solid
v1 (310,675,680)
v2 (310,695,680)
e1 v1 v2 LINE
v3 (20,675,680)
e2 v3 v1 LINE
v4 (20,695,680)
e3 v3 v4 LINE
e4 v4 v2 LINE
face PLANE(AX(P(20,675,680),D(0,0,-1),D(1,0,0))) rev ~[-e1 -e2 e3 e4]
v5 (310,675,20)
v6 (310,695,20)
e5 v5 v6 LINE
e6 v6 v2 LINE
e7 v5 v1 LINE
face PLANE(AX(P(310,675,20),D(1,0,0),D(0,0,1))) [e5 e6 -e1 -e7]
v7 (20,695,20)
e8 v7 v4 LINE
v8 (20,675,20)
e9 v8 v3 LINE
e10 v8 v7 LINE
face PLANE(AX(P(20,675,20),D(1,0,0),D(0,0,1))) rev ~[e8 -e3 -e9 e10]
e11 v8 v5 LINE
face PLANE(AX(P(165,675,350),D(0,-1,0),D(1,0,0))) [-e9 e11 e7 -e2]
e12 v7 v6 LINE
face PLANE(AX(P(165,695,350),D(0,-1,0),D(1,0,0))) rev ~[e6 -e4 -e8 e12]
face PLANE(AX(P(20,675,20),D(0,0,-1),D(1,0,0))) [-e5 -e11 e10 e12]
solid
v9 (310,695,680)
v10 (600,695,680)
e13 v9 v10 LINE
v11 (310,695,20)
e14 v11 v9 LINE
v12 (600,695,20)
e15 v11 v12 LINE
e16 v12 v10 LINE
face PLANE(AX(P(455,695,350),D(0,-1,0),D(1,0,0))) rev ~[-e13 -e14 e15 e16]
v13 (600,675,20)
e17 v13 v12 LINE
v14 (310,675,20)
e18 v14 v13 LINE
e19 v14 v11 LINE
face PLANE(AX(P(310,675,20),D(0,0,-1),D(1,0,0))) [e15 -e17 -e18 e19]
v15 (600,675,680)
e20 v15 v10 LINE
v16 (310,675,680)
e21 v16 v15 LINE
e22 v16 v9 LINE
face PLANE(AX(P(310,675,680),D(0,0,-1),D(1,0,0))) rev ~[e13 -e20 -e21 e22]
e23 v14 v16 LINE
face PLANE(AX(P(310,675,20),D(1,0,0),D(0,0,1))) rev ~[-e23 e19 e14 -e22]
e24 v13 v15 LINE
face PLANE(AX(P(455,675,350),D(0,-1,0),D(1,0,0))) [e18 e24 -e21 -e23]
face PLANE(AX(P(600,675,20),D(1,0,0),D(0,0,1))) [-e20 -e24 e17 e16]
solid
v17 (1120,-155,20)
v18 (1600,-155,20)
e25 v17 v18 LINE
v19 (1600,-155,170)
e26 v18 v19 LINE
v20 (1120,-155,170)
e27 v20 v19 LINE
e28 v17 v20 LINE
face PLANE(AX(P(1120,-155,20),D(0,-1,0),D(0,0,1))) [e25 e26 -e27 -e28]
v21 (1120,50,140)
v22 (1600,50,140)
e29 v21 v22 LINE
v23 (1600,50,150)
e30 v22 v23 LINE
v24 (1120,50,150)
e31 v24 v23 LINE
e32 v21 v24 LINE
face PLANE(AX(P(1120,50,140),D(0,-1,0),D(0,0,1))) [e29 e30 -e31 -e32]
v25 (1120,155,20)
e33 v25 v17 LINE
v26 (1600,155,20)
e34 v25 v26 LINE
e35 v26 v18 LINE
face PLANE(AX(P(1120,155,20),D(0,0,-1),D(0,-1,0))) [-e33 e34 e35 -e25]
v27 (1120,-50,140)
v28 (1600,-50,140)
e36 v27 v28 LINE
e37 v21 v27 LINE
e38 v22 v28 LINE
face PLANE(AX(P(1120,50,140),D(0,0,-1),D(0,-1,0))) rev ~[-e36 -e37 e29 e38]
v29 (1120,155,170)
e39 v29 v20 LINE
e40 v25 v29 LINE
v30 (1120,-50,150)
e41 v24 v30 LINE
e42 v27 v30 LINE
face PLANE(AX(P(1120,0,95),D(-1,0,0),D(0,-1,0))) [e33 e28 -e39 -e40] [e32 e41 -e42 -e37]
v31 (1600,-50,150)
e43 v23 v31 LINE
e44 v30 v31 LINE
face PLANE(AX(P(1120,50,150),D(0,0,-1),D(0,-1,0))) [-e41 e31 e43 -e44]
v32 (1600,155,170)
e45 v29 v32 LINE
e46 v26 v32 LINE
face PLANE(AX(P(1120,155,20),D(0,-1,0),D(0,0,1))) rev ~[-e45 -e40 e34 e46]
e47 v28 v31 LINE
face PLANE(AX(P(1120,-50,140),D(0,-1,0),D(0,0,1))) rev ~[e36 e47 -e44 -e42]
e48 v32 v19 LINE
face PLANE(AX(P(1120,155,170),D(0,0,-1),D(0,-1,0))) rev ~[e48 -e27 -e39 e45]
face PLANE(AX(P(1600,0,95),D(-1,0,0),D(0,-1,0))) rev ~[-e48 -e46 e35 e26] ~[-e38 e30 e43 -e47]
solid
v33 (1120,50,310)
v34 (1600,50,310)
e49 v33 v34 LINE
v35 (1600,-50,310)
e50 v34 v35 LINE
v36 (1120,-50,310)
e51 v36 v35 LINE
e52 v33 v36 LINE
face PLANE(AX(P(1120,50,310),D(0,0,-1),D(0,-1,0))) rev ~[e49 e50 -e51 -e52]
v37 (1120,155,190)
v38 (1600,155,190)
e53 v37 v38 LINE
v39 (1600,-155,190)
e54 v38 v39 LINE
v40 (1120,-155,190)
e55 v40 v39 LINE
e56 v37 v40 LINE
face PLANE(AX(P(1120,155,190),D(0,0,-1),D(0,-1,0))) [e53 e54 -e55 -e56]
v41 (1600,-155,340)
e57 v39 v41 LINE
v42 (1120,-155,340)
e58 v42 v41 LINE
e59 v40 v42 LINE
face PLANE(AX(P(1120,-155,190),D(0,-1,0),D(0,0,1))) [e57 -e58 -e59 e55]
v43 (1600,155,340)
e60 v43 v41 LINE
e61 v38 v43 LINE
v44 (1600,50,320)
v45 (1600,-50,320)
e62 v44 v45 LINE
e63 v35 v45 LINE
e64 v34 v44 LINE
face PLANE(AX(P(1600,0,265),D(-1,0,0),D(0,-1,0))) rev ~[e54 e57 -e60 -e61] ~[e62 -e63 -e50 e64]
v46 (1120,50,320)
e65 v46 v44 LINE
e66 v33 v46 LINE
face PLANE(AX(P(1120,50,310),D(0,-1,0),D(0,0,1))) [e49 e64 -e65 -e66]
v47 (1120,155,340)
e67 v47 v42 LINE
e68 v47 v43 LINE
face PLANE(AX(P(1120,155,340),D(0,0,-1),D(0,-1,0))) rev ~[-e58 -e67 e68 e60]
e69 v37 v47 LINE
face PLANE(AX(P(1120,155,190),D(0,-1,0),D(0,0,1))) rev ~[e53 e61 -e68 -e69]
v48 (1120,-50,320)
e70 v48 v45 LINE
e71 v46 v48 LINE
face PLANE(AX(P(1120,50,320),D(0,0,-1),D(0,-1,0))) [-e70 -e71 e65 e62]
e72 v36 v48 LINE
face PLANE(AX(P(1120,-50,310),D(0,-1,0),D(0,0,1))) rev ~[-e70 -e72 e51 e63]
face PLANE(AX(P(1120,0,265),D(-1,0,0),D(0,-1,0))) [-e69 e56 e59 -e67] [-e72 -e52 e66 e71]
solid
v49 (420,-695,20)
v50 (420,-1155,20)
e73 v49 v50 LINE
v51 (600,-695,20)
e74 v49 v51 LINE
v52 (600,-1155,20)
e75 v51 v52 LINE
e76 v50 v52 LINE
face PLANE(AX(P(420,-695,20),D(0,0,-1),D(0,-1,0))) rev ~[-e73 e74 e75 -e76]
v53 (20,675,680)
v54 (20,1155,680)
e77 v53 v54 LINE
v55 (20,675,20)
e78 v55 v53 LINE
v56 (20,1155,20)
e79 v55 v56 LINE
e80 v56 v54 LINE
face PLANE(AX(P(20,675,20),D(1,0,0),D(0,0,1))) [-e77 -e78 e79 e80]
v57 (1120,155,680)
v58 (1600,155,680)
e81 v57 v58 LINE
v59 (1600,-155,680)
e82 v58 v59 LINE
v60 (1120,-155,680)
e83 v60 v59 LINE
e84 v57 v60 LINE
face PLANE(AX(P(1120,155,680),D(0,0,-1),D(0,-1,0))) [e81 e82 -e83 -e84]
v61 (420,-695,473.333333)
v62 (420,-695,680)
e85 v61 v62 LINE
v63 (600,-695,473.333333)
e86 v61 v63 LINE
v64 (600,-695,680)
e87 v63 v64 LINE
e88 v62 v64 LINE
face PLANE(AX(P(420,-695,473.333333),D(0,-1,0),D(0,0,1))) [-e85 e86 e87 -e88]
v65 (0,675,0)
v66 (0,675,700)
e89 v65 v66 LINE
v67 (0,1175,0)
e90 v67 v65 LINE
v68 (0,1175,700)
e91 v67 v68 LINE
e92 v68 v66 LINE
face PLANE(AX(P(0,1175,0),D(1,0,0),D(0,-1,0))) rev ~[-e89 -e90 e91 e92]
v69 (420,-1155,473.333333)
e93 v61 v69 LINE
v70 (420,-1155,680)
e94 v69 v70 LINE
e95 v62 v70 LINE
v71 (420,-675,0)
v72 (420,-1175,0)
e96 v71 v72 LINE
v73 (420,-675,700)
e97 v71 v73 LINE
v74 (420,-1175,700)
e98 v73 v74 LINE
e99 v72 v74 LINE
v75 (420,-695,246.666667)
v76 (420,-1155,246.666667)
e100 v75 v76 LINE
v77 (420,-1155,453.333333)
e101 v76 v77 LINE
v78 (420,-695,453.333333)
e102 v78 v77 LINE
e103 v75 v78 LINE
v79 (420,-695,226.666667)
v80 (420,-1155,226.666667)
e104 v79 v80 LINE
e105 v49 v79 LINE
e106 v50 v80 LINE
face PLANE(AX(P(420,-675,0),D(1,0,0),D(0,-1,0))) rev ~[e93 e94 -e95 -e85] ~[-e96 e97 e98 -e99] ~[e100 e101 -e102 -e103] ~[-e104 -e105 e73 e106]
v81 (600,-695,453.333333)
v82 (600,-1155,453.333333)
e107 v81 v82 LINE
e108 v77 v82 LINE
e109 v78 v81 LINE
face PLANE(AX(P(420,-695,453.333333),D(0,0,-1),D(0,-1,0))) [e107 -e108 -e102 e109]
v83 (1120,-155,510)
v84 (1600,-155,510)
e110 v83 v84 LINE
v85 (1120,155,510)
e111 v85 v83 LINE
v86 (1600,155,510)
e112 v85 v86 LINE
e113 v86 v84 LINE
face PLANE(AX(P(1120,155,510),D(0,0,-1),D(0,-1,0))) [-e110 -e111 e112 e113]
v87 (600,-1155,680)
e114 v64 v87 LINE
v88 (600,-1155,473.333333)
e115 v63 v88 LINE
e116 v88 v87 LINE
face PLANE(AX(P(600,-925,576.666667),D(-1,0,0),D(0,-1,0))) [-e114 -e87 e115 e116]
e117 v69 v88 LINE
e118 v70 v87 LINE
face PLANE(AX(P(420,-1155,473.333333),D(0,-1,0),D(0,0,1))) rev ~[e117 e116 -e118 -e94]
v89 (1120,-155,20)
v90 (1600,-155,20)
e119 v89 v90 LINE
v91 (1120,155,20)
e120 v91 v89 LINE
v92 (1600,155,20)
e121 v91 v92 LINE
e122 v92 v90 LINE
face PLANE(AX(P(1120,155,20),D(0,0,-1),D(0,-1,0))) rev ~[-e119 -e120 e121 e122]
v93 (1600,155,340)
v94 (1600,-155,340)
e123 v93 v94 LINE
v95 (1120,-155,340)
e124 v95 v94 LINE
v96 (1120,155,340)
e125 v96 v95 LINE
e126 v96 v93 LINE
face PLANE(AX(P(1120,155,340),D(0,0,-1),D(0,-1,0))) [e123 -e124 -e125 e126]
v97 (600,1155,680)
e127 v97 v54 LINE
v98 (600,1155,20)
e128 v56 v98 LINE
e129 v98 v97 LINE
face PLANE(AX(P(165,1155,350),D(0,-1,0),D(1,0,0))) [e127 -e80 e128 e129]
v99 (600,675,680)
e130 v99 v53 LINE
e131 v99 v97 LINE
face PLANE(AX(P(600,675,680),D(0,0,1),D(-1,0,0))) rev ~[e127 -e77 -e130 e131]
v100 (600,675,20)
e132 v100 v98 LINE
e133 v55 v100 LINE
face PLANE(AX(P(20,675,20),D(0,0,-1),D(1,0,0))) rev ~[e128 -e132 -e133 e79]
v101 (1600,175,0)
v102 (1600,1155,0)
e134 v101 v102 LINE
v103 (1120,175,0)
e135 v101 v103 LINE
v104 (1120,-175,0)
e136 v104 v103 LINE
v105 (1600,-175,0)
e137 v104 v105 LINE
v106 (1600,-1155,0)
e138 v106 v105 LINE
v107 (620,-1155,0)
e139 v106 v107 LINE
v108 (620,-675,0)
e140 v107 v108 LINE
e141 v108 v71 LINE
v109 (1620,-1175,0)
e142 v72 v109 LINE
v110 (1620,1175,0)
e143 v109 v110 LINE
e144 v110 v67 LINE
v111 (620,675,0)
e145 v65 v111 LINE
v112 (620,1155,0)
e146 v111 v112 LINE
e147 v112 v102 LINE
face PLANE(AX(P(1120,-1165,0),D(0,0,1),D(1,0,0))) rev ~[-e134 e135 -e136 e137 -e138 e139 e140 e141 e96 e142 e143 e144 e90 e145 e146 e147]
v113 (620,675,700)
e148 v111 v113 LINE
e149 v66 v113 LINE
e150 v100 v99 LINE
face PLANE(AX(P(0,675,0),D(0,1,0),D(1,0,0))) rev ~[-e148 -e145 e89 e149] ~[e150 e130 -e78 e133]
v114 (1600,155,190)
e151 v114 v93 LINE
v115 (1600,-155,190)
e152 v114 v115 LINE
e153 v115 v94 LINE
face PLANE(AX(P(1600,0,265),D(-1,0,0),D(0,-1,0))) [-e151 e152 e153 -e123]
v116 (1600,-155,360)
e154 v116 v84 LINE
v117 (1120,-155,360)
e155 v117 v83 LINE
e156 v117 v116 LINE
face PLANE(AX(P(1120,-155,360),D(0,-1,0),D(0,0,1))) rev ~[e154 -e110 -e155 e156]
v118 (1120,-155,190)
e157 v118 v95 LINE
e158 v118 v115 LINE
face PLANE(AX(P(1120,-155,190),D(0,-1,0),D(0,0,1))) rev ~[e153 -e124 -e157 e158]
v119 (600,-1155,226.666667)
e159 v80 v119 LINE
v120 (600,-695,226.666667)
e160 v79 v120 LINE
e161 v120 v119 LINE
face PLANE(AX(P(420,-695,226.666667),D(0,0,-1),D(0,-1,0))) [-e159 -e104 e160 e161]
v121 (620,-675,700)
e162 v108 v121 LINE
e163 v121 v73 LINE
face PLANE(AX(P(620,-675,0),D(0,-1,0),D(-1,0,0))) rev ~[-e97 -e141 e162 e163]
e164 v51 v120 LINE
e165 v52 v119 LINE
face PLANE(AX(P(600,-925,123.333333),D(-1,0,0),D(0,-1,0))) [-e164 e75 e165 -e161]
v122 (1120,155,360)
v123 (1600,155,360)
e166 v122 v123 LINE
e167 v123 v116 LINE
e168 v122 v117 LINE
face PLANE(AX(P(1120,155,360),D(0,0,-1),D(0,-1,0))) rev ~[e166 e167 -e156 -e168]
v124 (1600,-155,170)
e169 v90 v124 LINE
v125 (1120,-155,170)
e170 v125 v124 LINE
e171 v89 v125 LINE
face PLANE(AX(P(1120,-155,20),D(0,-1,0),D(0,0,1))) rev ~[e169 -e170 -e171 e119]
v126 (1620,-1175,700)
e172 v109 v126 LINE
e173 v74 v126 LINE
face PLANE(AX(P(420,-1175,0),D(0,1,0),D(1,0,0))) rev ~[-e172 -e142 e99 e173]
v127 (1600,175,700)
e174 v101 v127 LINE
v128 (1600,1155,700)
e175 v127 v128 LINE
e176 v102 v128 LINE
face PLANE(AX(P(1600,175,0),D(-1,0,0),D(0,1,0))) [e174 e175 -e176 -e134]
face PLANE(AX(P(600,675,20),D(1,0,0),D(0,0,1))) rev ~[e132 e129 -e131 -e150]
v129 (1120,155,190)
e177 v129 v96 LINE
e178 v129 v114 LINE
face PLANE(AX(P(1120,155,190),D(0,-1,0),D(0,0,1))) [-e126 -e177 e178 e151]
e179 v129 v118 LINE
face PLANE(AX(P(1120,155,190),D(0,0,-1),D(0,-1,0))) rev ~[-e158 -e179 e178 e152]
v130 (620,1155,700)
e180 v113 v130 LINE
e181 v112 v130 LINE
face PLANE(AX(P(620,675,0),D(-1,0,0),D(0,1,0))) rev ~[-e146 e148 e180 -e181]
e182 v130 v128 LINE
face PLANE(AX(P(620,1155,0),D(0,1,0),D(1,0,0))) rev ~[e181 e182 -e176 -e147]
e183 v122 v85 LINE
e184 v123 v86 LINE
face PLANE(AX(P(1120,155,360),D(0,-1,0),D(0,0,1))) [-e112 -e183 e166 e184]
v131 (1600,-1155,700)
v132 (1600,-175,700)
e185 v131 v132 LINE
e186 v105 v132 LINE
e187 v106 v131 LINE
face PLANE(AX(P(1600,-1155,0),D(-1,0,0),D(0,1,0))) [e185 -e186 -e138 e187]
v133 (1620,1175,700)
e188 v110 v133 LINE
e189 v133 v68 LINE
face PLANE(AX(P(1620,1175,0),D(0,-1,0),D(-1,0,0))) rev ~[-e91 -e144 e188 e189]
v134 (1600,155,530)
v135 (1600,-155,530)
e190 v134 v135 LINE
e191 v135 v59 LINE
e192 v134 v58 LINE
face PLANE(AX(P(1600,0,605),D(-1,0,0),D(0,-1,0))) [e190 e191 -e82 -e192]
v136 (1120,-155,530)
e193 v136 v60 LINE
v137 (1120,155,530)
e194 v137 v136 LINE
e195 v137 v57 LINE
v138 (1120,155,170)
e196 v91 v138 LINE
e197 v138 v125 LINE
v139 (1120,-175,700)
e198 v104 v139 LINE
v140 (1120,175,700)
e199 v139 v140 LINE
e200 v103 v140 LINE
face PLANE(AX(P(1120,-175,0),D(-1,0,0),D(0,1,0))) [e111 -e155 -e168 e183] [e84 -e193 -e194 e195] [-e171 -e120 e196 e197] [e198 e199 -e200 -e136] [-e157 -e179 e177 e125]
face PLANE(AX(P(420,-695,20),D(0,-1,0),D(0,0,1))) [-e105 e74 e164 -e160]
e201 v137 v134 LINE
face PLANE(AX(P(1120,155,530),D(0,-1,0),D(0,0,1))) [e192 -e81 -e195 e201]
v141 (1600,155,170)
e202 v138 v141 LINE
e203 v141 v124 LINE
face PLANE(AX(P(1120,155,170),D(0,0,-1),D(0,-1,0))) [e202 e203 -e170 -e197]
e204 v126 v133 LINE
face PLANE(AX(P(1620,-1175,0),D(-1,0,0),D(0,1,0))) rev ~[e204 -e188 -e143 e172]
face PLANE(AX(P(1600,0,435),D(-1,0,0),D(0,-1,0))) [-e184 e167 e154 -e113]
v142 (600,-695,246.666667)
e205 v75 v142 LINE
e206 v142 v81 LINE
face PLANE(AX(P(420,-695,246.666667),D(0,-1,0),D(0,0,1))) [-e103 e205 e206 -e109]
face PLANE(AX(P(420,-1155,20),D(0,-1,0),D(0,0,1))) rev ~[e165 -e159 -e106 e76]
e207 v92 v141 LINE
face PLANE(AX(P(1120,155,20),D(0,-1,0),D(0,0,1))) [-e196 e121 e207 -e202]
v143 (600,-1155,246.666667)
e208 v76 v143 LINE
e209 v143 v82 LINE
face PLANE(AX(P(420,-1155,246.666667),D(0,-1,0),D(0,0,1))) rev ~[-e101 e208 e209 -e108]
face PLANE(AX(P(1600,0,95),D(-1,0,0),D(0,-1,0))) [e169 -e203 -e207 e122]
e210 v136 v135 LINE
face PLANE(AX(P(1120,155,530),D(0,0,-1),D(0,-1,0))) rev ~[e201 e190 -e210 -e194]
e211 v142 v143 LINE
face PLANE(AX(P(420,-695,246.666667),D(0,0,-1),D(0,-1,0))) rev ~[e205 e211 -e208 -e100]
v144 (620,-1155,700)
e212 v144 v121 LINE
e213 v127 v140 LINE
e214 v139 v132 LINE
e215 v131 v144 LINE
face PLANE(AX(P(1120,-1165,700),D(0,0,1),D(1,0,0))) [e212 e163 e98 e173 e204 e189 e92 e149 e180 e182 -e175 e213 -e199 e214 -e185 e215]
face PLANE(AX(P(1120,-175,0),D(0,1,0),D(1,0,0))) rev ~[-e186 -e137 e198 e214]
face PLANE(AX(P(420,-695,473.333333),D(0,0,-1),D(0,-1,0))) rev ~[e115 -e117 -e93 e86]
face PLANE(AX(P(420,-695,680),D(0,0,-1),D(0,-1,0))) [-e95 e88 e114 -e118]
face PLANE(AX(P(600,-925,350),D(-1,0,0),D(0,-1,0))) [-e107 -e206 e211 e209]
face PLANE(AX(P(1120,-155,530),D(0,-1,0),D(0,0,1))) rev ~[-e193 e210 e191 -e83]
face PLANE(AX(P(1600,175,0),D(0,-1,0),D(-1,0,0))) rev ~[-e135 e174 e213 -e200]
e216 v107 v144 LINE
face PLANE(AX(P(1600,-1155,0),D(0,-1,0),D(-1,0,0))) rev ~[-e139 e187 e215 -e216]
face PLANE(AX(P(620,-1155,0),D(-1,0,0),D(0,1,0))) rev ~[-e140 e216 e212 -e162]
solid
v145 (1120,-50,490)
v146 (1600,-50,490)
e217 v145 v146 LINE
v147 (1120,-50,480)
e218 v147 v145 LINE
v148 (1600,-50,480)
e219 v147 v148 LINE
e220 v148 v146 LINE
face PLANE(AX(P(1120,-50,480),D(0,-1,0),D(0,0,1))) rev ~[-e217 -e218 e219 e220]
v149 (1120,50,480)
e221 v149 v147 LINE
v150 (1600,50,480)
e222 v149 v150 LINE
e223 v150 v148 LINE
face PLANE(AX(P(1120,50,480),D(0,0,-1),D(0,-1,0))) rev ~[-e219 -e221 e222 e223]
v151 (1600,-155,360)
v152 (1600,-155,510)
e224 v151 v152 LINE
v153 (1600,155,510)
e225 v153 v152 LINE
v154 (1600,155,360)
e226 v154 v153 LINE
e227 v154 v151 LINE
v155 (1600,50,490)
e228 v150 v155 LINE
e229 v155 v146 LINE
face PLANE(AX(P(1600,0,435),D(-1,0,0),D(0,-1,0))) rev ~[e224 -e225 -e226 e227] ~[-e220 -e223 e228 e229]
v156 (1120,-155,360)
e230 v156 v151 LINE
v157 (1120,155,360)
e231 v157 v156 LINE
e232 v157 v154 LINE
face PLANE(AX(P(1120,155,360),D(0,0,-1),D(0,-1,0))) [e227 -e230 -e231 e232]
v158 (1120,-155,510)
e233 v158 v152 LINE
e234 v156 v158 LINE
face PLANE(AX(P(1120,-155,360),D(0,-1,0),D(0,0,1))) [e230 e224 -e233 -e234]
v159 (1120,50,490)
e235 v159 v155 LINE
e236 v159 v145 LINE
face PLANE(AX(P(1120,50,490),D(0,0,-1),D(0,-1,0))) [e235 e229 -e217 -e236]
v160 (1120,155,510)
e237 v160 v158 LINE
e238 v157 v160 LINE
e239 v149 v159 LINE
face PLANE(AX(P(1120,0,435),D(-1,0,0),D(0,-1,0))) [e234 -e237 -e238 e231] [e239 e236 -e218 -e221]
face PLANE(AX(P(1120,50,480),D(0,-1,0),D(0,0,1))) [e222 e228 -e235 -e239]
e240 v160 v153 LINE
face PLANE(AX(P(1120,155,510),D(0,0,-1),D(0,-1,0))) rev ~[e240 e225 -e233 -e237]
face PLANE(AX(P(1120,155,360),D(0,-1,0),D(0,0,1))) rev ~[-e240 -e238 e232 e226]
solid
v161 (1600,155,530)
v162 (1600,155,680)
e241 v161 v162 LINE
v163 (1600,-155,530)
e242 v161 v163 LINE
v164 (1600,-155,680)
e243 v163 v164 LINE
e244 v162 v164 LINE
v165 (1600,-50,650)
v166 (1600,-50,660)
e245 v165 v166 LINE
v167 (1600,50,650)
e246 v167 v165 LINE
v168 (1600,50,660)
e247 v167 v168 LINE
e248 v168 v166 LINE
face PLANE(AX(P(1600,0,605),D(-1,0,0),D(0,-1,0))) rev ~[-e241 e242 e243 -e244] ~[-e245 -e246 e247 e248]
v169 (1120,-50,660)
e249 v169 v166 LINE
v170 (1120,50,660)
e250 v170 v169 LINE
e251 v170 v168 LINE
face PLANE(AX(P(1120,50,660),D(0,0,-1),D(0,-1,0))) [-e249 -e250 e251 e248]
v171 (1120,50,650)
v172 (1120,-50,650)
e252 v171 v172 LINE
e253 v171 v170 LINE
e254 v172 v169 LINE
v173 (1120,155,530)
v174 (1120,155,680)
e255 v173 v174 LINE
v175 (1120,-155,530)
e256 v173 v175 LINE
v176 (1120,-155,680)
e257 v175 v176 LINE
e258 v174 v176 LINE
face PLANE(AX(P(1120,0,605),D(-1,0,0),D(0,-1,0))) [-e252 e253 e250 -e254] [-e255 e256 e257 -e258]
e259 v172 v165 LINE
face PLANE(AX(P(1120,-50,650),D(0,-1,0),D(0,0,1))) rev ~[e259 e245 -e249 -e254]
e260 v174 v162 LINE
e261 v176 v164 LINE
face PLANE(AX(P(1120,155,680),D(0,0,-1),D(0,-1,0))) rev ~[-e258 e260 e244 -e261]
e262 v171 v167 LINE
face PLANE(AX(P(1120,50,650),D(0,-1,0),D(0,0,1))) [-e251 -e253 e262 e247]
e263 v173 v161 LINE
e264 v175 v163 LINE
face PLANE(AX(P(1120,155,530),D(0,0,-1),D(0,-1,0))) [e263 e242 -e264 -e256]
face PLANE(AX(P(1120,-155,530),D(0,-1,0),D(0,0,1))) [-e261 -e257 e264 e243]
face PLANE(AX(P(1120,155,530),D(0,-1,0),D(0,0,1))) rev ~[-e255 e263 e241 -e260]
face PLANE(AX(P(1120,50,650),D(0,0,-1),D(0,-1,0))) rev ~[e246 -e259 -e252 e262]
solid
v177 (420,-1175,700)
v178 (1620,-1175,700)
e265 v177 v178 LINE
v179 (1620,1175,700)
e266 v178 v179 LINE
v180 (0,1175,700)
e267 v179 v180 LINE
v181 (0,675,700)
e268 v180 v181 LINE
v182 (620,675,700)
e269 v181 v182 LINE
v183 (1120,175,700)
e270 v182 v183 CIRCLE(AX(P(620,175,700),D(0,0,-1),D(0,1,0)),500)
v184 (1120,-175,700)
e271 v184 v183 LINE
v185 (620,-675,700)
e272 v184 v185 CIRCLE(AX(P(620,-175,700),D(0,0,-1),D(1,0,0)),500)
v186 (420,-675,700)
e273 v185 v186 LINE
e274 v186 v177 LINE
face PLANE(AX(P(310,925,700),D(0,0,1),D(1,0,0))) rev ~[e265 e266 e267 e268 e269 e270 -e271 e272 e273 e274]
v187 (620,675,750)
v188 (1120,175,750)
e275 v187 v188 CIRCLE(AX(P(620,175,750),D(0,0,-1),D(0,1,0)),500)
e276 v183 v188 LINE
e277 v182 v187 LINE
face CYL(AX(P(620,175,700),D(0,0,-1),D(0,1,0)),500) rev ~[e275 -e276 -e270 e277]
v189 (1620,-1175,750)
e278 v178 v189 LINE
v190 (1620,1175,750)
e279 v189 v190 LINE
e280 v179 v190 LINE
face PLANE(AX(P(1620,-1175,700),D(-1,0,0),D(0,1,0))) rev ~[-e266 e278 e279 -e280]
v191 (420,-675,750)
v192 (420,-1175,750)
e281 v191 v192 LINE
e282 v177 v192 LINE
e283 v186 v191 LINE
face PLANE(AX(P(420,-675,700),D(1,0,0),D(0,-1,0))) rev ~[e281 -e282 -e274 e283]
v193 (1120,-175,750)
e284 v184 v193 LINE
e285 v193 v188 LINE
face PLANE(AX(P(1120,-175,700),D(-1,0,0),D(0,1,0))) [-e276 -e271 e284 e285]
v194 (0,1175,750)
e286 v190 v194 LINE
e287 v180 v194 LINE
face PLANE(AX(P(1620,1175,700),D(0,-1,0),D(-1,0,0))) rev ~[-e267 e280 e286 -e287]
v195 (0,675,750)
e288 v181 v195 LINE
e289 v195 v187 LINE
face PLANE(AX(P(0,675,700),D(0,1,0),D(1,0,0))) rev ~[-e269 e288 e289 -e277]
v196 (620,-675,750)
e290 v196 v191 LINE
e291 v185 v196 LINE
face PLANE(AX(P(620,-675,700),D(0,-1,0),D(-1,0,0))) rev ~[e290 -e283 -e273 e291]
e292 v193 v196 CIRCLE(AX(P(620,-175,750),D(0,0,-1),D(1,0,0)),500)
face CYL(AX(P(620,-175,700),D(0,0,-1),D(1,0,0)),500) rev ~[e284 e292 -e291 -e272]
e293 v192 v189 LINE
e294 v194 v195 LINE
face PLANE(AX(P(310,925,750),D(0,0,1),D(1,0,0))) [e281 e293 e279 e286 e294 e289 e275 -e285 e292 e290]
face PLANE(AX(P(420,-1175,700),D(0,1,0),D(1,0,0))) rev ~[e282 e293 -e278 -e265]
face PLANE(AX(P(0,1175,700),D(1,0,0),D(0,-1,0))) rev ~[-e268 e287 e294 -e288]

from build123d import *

# Parameters (mm, degrees)
F0_W      = 20
F0_H      = 980
F0_W_2    = 480
F0_H_2    = 350
F1_DEPTH  = 700
F2_START  = 700
F2_DEPTH  = 50
F3_W      = 310
F3_H      = 150
F4_DEPTH  = 480
F5_W      = 290
F5_H      = 660
F6_DEPTH  = 480
F7_W      = 460
F7_H      = 206.6666666667
F8_DEPTH  = 180
F9_DEPTH  = 480
F10_DEPTH = 20
F11_DEPTH = 20
F12_W     = 100
F12_H     = 10
F13_DEPTH = 480


with BuildPart() as f1:
    # F0 (on Top) → F1 (new body)
    with BuildSketch(Plane.XY):
        Polygon((1620, -1175), (1620, -1155), (1600, -1155), (620, -1155), (620, -1175), align=None)
        with Locations((1610, -665)):
            Rectangle(F0_W, F0_H)
        with Locations((1360, 0)):
            Rectangle(F0_W_2, F0_H_2)
        with Locations((1610, 0)):
            Rectangle(F0_W, F0_H_2)
        with Locations((1610, 665)):
            Rectangle(F0_W, F0_H)
        Polygon((620, 1175), (0, 1175), (0, 675), (620, 675), (620, 1155), align=None)
        Polygon((1620, 1175), (620, 1175), (620, 1155), (1600, 1155), (1620, 1155), align=None)
        Polygon((620, -1155), (620, -675), (420, -675), (420, -1175), (620, -1175), align=None)
    extrude(amount=F1_DEPTH)

    # F3 (on face) → F4 (cut, through all)
    with BuildSketch(Plane(origin=(1120, 0, 0), x_dir=(0, -1, 0), z_dir=(-1, 0, 0))):
        with Locations((0, 605)):
            Rectangle(F3_W, F3_H)
        with Locations((0, 435)):
            Rectangle(F3_W, F3_H)
        with Locations((0, 265)):
            Rectangle(F3_W, F3_H)
        with Locations((0, 95)):
            Rectangle(F3_W, F3_H)
    extrude(amount=-F4_DEPTH, mode=Mode.SUBTRACT)

    # F5 (on face) → F6 (cut, through all)
    with BuildSketch(Plane.XZ.offset(-675)):
        with Locations((165, 350)):
            Rectangle(F5_W, F5_H)
        with Locations((455, 350)):
            Rectangle(F5_W, F5_H)
    extrude(amount=-F6_DEPTH, mode=Mode.SUBTRACT)

    # F7 (on face) → F8 (cut, through all)
    with BuildSketch(Plane(origin=(420, 0, 0), x_dir=(0, -1, 0), z_dir=(-1, 0, 0))):
        with Locations((925, 576.6666666667)):
            Rectangle(F7_W, F7_H)
        with Locations((925, 350)):
            Rectangle(F7_W, F7_H)
        with Locations((925, 123.3333333333)):
            Rectangle(F7_W, F7_H)
    extrude(amount=-F8_DEPTH, mode=Mode.SUBTRACT)


with BuildPart() as f2:
    # F0 (on Top) → F2 (new body)
    with BuildSketch(Plane.XY.offset(F2_START)):
        Polygon((620, 1175), (0, 1175), (0, 675), (620, 675), (620, 1155), align=None)
        Polygon((1620, 1175), (620, 1175), (620, 1155), (1600, 1155), (1620, 1155), align=None)
        with BuildLine():
            Line((1600, 1155), (620, 1155))
            Line((620, 1155), (620, 675))
            ThreePointArc((620, 675), (973.5533905933, 528.5533905933), (1120, 175))
            Line((1120, 175), (1600, 175))
            Line((1600, 175), (1600, 1155))
        make_face()
        with Locations((1610, 665)):
            Rectangle(F0_W, F0_H)
        with Locations((1610, 0)):
            Rectangle(F0_W, F0_H_2)
        with Locations((1360, 0)):
            Rectangle(F0_W_2, F0_H_2)
        with Locations((1610, -665)):
            Rectangle(F0_W, F0_H)
        Polygon((1620, -1175), (1620, -1155), (1600, -1155), (620, -1155), (620, -1175), align=None)
        with BuildLine():
            Line((1600, -175), (1120, -175))
            ThreePointArc((1120, -175), (973.5533905933, -528.5533905933), (620, -675))
            Line((620, -675), (620, -1155))
            Line((620, -1155), (1600, -1155))
            Line((1600, -1155), (1600, -175))
        make_face()
        Polygon((620, -1155), (620, -675), (420, -675), (420, -1175), (620, -1175), align=None)
    extrude(amount=F2_DEPTH)


with BuildPart() as f9:
    # F3 (on face) → F9 (new body, through all)
    with BuildSketch(Plane(origin=(1120, 0, 0), x_dir=(0, -1, 0), z_dir=(-1, 0, 0))):
        with Locations((0, 605)):
            Rectangle(F3_W, F3_H)
    extrude(amount=-F9_DEPTH)


with BuildPart() as f9b:
    # F3 (on face) → F9, piece 2 (new body, through all)
    with BuildSketch(Plane(origin=(1120, 0, 0), x_dir=(0, -1, 0), z_dir=(-1, 0, 0))):
        with Locations((0, 435)):
            Rectangle(F3_W, F3_H)
    extrude(amount=-F9_DEPTH)


with BuildPart() as f9c:
    # F3 (on face) → F9, piece 3 (new body, through all)
    with BuildSketch(Plane(origin=(1120, 0, 0), x_dir=(0, -1, 0), z_dir=(-1, 0, 0))):
        with Locations((0, 265)):
            Rectangle(F3_W, F3_H)
    extrude(amount=-F9_DEPTH)


with BuildPart() as f9d:
    # F3 (on face) → F9, piece 4 (new body, through all)
    with BuildSketch(Plane(origin=(1120, 0, 0), x_dir=(0, -1, 0), z_dir=(-1, 0, 0))):
        with Locations((0, 95)):
            Rectangle(F3_W, F3_H)
    extrude(amount=-F9_DEPTH)


with BuildPart() as f10:
    # F5 (on face) → F10 (new body)
    with BuildSketch(Plane.XZ.offset(-675)):
        with Locations((165, 350)):
            Rectangle(F5_W, F5_H)
    extrude(amount=-F10_DEPTH)


with BuildPart() as f11:
    # F5 (on face) → F11 (new body)
    with BuildSketch(Plane.XZ.offset(-675)):
        with Locations((455, 350)):
            Rectangle(F5_W, F5_H)
    extrude(amount=-F11_DEPTH)


with BuildPart() as f13_tool:
    # F12 (on face) → F13 (new body, through all)
    with BuildSketch(Plane(origin=(1120, 0, 0), x_dir=(0, -1, 0), z_dir=(-1, 0, 0))):
        with Locations((0, 655)):
            Rectangle(F12_W, F12_H)
        with Locations((0, 485)):
            Rectangle(F12_W, F12_H)
        with Locations((0, 315)):
            Rectangle(F12_W, F12_H)
        with Locations((0, 145)):
            Rectangle(F12_W, F12_H)
    extrude(amount=-F13_DEPTH)


with BuildPart() as f9_1:
    add(f9.part)

    # F13: cut by f13_tool
    add(f13_tool.part, mode=Mode.SUBTRACT)


with BuildPart() as f9b_1:
    add(f9b.part)

    # F13: cut by f13_tool
    add(f13_tool.part, mode=Mode.SUBTRACT)


with BuildPart() as f9c_1:
    add(f9c.part)

    # F13: cut by f13_tool
    add(f13_tool.part, mode=Mode.SUBTRACT)


with BuildPart() as f9d_1:
    add(f9d.part)

    # F13: cut by f13_tool
    add(f13_tool.part, mode=Mode.SUBTRACT)


solid = Compound([f1.part, f2.part, f10.part, f11.part, f9_1.part, f9b_1.part, f9c_1.part, f9d_1.part])
